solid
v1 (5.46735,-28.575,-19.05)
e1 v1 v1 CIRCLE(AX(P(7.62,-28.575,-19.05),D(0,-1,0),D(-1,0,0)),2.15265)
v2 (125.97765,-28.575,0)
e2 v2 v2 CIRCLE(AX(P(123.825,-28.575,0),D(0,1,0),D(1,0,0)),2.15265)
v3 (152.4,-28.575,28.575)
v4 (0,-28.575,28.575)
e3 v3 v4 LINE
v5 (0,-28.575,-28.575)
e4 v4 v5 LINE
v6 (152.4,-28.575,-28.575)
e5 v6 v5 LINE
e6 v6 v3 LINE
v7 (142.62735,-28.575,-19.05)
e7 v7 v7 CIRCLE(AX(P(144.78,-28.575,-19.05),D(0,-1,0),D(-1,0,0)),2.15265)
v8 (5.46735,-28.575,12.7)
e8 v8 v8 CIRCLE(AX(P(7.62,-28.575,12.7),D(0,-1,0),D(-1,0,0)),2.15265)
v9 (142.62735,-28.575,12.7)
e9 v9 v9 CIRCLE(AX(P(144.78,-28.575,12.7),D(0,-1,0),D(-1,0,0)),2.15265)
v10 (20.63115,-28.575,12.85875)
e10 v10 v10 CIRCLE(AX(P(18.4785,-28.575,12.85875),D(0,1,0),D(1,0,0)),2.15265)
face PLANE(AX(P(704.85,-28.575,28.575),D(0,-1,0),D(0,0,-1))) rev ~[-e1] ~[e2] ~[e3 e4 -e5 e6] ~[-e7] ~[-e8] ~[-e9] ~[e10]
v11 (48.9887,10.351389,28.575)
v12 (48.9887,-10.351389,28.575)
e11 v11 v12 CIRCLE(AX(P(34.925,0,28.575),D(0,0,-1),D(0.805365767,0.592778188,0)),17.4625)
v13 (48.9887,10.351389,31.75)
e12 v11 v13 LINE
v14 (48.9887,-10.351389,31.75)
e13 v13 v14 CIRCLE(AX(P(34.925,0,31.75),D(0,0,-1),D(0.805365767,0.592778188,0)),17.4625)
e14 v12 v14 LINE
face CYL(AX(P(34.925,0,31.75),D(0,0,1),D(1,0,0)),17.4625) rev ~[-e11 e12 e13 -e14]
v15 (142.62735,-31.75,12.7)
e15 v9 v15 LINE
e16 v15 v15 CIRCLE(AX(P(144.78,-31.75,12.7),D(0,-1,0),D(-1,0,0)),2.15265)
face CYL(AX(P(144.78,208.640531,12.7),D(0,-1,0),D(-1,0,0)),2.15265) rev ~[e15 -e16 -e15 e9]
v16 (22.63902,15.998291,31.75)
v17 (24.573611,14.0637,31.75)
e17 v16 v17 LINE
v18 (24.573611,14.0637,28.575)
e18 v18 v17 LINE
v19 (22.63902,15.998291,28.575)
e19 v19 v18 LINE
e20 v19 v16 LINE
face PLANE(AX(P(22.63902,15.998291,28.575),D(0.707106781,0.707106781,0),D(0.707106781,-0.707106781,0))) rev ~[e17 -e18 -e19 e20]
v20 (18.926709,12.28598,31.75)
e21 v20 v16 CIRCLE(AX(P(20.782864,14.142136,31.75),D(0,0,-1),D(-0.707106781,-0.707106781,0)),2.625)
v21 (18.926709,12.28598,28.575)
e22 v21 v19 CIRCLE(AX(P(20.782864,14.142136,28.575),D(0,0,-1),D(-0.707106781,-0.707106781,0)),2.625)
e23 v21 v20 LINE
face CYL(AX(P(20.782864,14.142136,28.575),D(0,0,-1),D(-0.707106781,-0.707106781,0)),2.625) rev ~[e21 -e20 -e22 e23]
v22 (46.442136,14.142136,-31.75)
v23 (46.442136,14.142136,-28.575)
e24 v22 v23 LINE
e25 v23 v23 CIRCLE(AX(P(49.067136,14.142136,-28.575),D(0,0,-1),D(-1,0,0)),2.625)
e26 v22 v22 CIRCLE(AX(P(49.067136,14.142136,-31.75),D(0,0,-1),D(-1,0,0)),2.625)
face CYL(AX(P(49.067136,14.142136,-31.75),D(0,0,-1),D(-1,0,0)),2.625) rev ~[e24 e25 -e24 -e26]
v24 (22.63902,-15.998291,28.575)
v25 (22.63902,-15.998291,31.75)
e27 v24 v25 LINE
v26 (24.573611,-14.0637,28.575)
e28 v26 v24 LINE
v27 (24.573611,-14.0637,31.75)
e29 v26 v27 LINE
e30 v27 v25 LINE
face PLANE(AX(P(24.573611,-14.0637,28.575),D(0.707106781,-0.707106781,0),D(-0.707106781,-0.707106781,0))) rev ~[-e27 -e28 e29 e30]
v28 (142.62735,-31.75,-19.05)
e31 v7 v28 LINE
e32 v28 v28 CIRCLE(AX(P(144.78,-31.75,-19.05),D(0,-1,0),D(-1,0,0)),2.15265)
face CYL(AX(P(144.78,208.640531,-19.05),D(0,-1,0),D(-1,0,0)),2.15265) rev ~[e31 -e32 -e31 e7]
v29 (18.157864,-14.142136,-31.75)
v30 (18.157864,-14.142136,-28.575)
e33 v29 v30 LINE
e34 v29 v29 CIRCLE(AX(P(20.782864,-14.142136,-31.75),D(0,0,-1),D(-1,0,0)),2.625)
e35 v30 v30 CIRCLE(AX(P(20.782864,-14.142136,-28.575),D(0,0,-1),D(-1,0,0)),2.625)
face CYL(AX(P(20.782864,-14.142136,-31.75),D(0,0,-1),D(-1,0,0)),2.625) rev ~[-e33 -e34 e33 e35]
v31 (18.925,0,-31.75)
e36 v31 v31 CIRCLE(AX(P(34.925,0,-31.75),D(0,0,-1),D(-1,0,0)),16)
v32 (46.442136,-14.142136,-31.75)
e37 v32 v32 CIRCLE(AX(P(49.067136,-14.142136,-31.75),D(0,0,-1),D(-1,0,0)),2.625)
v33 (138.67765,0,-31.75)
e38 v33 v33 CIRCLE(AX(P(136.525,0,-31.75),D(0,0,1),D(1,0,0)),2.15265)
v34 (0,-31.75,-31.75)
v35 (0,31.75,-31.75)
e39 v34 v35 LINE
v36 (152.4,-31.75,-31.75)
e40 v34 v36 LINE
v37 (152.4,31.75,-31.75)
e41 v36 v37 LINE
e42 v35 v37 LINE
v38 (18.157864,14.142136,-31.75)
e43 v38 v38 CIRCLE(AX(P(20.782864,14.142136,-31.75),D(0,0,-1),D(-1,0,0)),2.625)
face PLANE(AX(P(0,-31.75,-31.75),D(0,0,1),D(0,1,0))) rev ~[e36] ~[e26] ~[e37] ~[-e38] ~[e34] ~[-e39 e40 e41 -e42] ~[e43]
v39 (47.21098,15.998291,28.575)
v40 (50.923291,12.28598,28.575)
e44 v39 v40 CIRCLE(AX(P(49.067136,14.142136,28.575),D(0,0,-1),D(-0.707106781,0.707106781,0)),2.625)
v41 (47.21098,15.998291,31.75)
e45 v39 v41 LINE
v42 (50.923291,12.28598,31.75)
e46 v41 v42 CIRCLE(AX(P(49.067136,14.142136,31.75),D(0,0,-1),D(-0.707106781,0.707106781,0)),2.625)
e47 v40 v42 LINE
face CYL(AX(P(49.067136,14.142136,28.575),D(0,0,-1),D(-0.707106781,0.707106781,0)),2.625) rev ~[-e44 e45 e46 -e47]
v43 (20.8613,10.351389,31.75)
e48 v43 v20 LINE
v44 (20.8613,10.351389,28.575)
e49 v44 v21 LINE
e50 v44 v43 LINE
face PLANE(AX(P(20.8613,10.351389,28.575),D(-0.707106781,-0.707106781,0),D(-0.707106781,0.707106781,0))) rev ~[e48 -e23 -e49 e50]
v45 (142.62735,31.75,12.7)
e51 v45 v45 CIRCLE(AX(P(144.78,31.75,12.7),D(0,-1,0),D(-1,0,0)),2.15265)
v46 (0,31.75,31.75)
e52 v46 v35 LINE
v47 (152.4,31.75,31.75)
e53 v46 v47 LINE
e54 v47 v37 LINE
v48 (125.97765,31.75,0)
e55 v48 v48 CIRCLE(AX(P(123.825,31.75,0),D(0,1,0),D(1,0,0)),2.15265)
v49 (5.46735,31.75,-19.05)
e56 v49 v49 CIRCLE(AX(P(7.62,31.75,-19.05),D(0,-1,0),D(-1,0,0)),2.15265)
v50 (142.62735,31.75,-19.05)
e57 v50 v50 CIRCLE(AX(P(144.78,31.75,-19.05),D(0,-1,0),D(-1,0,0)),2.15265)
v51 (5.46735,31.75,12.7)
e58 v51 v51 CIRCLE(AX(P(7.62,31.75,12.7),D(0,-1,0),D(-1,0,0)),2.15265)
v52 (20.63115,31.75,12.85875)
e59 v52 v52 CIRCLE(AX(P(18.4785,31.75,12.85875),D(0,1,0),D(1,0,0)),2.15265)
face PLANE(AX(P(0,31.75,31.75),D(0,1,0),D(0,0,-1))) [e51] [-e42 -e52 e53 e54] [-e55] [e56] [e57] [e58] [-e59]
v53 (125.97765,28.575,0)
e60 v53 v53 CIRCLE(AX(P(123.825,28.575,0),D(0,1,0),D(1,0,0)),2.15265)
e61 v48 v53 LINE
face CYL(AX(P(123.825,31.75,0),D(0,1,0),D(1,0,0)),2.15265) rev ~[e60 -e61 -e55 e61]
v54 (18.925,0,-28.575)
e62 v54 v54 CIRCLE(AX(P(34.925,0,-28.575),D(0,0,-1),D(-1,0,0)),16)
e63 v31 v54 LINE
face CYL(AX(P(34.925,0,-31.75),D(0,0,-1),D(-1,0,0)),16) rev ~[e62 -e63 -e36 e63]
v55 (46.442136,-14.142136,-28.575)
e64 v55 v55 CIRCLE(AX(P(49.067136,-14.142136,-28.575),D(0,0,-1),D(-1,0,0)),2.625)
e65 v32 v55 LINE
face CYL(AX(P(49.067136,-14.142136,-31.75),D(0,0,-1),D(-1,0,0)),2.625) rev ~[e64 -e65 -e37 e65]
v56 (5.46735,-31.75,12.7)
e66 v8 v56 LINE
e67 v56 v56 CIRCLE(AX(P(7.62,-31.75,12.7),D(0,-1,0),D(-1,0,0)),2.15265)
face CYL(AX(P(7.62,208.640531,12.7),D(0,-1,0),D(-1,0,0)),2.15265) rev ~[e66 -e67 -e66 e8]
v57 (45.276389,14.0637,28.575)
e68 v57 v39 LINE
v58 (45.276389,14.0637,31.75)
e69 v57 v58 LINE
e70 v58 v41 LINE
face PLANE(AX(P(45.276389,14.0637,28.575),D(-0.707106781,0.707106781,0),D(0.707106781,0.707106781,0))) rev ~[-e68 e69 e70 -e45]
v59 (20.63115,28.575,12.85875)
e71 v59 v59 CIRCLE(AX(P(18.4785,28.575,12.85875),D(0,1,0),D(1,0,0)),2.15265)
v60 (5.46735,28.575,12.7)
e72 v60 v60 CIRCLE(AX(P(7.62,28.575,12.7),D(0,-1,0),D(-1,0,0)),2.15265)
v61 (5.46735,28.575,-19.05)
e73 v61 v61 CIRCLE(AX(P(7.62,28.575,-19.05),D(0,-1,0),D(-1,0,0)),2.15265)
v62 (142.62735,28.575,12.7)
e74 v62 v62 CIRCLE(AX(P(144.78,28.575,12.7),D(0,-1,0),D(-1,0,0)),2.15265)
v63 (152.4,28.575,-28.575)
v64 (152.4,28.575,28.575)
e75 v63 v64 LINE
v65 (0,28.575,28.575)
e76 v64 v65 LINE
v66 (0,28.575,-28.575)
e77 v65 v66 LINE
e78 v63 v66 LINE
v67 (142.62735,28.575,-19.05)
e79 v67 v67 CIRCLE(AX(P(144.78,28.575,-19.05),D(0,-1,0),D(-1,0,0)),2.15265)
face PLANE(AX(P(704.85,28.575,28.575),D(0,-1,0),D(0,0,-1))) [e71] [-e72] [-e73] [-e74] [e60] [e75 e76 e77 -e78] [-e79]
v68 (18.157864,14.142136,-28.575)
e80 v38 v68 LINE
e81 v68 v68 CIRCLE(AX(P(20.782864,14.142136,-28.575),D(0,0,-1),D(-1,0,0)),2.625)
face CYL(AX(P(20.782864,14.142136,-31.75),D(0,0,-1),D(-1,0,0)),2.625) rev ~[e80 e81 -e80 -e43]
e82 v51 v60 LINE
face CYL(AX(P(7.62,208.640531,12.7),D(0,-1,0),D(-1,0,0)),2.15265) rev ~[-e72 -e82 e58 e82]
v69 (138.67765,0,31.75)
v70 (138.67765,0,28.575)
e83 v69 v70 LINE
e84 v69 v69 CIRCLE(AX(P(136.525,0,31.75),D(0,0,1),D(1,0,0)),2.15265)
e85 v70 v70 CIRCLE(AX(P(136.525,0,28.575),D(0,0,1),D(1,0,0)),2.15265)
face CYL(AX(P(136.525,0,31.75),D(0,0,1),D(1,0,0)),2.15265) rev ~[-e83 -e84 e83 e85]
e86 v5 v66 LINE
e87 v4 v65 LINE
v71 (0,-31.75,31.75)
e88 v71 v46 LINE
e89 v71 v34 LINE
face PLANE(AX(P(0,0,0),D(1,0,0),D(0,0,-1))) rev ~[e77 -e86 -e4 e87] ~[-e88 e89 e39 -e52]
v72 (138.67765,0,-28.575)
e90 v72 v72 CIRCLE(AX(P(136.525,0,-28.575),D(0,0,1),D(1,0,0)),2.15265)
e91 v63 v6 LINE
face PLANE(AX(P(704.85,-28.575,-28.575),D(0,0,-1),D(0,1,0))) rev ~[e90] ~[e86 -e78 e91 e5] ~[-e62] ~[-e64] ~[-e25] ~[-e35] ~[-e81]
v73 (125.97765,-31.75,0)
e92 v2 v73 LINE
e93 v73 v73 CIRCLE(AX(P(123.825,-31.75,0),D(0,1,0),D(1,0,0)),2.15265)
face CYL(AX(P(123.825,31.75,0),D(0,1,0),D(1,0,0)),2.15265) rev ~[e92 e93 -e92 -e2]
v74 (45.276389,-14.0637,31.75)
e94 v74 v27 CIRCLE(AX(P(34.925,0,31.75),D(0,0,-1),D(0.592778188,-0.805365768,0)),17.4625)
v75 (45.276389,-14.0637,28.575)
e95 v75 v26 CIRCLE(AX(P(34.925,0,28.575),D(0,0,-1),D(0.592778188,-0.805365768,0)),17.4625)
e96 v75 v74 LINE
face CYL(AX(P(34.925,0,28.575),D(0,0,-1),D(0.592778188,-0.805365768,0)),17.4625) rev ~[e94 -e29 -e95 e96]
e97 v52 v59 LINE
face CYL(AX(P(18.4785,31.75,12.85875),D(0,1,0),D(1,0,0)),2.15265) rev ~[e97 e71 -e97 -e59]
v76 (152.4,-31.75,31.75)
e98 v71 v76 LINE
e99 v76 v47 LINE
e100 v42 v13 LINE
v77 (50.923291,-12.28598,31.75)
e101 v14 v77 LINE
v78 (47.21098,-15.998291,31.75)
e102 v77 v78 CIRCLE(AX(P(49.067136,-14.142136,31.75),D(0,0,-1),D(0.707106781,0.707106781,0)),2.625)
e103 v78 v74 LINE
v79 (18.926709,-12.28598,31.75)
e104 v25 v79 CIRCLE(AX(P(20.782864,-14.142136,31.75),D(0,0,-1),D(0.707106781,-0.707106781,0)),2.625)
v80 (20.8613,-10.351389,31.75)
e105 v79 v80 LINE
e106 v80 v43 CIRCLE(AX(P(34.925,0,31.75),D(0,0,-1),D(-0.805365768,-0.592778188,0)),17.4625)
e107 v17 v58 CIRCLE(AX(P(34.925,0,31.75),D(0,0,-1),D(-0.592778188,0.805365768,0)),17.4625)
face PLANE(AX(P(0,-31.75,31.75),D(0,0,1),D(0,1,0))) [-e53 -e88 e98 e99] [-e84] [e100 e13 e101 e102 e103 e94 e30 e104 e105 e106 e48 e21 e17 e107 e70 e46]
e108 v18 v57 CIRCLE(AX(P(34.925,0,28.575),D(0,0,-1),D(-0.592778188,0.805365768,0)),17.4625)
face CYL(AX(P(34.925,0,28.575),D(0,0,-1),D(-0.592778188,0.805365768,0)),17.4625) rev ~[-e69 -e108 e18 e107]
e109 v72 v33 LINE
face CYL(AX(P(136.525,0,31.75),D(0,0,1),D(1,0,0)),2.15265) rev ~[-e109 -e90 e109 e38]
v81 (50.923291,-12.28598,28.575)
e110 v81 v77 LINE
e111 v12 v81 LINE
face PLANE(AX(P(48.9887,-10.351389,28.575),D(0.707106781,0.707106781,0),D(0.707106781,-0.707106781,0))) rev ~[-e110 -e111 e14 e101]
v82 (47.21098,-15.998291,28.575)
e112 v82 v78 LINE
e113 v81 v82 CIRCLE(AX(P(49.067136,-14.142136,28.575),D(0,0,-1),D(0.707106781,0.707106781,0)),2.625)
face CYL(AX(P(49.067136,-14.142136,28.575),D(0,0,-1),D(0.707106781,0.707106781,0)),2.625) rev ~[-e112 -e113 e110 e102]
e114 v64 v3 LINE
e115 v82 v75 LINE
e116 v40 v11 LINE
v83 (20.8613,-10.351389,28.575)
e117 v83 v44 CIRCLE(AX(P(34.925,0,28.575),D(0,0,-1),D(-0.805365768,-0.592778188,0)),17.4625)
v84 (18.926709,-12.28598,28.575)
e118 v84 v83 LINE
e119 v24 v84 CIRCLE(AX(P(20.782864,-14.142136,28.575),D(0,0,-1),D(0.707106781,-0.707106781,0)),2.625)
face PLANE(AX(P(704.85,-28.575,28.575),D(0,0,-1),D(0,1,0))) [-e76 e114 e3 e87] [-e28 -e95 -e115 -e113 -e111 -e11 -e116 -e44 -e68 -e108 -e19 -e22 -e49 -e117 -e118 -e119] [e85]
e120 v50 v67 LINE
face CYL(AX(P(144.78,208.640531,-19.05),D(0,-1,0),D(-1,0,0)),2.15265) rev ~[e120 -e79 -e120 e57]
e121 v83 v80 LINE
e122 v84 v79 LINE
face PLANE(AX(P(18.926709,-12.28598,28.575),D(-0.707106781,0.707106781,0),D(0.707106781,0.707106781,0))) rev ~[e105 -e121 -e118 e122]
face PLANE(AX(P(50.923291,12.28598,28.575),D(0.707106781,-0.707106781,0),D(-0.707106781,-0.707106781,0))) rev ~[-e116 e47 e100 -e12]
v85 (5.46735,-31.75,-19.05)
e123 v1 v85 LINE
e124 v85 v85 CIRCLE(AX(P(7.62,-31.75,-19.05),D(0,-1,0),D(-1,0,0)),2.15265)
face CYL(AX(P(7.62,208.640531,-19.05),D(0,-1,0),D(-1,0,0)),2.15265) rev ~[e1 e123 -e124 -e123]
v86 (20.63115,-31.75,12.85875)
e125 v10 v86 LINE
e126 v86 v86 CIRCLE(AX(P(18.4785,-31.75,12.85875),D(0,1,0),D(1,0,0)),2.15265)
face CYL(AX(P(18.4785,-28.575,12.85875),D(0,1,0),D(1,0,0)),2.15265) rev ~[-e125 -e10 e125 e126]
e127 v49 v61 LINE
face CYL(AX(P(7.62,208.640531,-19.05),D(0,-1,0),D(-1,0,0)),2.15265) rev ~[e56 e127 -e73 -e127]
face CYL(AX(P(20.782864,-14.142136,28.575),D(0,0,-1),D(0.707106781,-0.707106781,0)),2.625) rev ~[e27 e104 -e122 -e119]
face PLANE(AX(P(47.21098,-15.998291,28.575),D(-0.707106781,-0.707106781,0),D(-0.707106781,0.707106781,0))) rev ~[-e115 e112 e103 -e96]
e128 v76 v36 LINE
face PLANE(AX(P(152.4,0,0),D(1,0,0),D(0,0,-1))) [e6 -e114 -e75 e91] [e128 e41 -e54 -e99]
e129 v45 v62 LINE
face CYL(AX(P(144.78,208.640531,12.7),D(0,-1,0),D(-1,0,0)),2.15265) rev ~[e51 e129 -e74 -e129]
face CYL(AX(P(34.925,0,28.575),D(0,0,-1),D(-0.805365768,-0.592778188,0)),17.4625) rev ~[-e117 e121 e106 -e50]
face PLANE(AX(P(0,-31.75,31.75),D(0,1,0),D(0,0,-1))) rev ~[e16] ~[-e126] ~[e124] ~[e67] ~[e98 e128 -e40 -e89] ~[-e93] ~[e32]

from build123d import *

# Parameters (mm, degrees)
SKETCH1_W             = 63.5
SKETCH1_H             = 63.5
BOSS_EXTRUDE1_DEPTH   = 704.85
SKETCH2_W             = 57.15
SKETCH2_H             = 57.15
CUT_EXTRUDE1_DEPTH    = 705.85
CUT_EXTRUDE2_REACH    = 65.5
SKETCH3_R             = 17.4625
SKETCH8_R             = 2.15265
CUT_EXTRUDE6_DEPTH    = 64.5
SKETCH10_R            = 2.15265
CUT_EXTRUDE7_DEPTH    = 64.5
CUT_EXTRUDE9_REACH    = 65.5
SKETCH13_R            = 16
SKETCH14_R            = 2.625
SKETCH14_R_2          = 16
CUT_EXTRUDE10_DEPTH   = 3.175
CUT_EXTRUDE11_START   = -3.175
CUT_EXTRUDE11_DEPTH   = 3.175
CUT_EXTRUDE13_REACH   = 65.5
SKETCH17_W            = 19.05
SKETCH17_H            = 25.4
SKETCH18_W            = 63.5
SKETCH18_H            = 63.5
CUT_EXTRUDE14_DEPTH   = 552.45
F_8_CLEARANCE_HOLE1_D = 4.3053
SKETCH21_R            = 2.15265
CUT_EXTRUDE15_DEPTH   = 6.35
SKETCH22_R            = 2.15265
CUT_EXTRUDE16_DEPTH   = 6.35


with BuildPart() as part:
    # Sketch1 → Boss-Extrude1 (new body)
    with BuildSketch(Plane(origin=(0, 0, 0), x_dir=(0, 0, -1), z_dir=(1, 0, 0))):
        Rectangle(SKETCH1_W, SKETCH1_H)
    extrude(amount=BOSS_EXTRUDE1_DEPTH)

    # Sketch2 → Cut-Extrude1 (cut, through all)
    with BuildSketch(Plane(origin=(704.85, 0, 0), x_dir=(0, 0, -1), z_dir=(1, 0, 0))):
        Rectangle(SKETCH2_W, SKETCH2_H)
    extrude(amount=-CUT_EXTRUDE1_DEPTH, mode=Mode.SUBTRACT)

    # Sketch3 → Cut-Extrude2 (cut, up to next)
    with BuildSketch(Plane.XY.offset(31.75), mode=Mode.PRIVATE) as cut_extrude2_sk1:
        with Locations((352.425, 0)):
            Circle(SKETCH3_R)
    cut_extrude2_tool1 = extrude(cut_extrude2_sk1.sketch, amount=-CUT_EXTRUDE2_REACH, mode=Mode.PRIVATE) & part.part
    add(cut_extrude2_tool1.solids().sort_by_distance((352.425, 0, 31.75))[0], mode=Mode.SUBTRACT)
    # Sketch3 → Cut-Extrude2 (cut, up to next)
    with BuildSketch(Plane.XY.offset(31.75), mode=Mode.PRIVATE) as cut_extrude2_sk2:
        with Locations((34.925, 0)):
            Circle(SKETCH3_R)
    cut_extrude2_tool2 = extrude(cut_extrude2_sk2.sketch, amount=-CUT_EXTRUDE2_REACH, mode=Mode.PRIVATE) & part.part
    add(cut_extrude2_tool2.solids().sort_by_distance((34.925, 0, 31.75))[0], mode=Mode.SUBTRACT)
    # Sketch3 → Cut-Extrude2 (cut, up to next)
    with BuildSketch(Plane.XY.offset(31.75), mode=Mode.PRIVATE) as cut_extrude2_sk3:
        with Locations((669.925, 0)):
            Circle(SKETCH3_R)
    cut_extrude2_tool3 = extrude(cut_extrude2_sk3.sketch, amount=-CUT_EXTRUDE2_REACH, mode=Mode.PRIVATE) & part.part
    add(cut_extrude2_tool3.solids().sort_by_distance((669.925, 0, 31.75))[0], mode=Mode.SUBTRACT)

    # Sketch8 → Cut-Extrude6 (cut, through all)
    with BuildSketch(Plane(origin=(0, 31.75, 0), x_dir=(1, 0, 0), z_dir=(0, 1, 0))):
        with Locations((466.725, 0)):
            Circle(SKETCH8_R)
        with Locations((123.825, 0)):
            Circle(SKETCH8_R)
        with Locations((581.025, 0)):
            Circle(SKETCH8_R)
        with Locations((238.125, 0)):
            Circle(SKETCH8_R)
    extrude(amount=-CUT_EXTRUDE6_DEPTH, mode=Mode.SUBTRACT)

    # Sketch10 → Cut-Extrude7 (cut, through all)
    with BuildSketch(Plane.XY.offset(31.75)):
        with Locations((225.425, 0)):
            Circle(SKETCH10_R)
        with Locations((568.325, 0)):
            Circle(SKETCH10_R)
        with Locations((136.525, 0)):
            Circle(SKETCH10_R)
        with Locations((479.425, 0)):
            Circle(SKETCH10_R)
    extrude(amount=-CUT_EXTRUDE7_DEPTH, mode=Mode.SUBTRACT)

    # Sketch13 → Cut-Extrude9 (cut, up to next)
    with BuildSketch(Plane(origin=(0, 0, -31.75), x_dir=(-1, 0, 0), z_dir=(0, 0, -1)), mode=Mode.PRIVATE) as cut_extrude9_sk1:
        with Locations((-352.425, 0)):
            Circle(SKETCH13_R)
    cut_extrude9_tool1 = extrude(cut_extrude9_sk1.sketch, amount=-CUT_EXTRUDE9_REACH, mode=Mode.PRIVATE) & part.part
    add(cut_extrude9_tool1.solids().sort_by_distance((352.425, 0, -31.75))[0], mode=Mode.SUBTRACT)
    # Sketch13 → Cut-Extrude9 (cut, up to next)
    with BuildSketch(Plane(origin=(0, 0, -31.75), x_dir=(-1, 0, 0), z_dir=(0, 0, -1)), mode=Mode.PRIVATE) as cut_extrude9_sk2:
        with Locations((-34.925, 0)):
            Circle(SKETCH13_R)
    cut_extrude9_tool2 = extrude(cut_extrude9_sk2.sketch, amount=-CUT_EXTRUDE9_REACH, mode=Mode.PRIVATE) & part.part
    add(cut_extrude9_tool2.solids().sort_by_distance((34.925, 0, -31.75))[0], mode=Mode.SUBTRACT)
    # Sketch13 → Cut-Extrude9 (cut, up to next)
    with BuildSketch(Plane(origin=(0, 0, -31.75), x_dir=(-1, 0, 0), z_dir=(0, 0, -1)), mode=Mode.PRIVATE) as cut_extrude9_sk3:
        with Locations((-669.925, 0)):
            Circle(SKETCH13_R)
    cut_extrude9_tool3 = extrude(cut_extrude9_sk3.sketch, amount=-CUT_EXTRUDE9_REACH, mode=Mode.PRIVATE) & part.part
    add(cut_extrude9_tool3.solids().sort_by_distance((669.925, 0, -31.75))[0], mode=Mode.SUBTRACT)

    # Sketch14 → Cut-Extrude10 (cut)
    with BuildSketch(Plane(origin=(0, 0, -31.75), x_dir=(-1, 0, 0), z_dir=(0, 0, -1))):
        with Locations((-655.782864376, 14.142135624)):
            Circle(SKETCH14_R)
        with Locations((-338.282864376, 14.142135624)):
            Circle(SKETCH14_R)
        with Locations((-20.782864376, 14.142135624)):
            Circle(SKETCH14_R)
        with Locations((-352.425, 0)):
            Circle(SKETCH14_R_2)
        with Locations((-34.925, 0)):
            Circle(SKETCH14_R_2)
        with Locations((-669.925, 0)):
            Circle(SKETCH14_R_2)
        with Locations((-338.282864376, -14.142135624)):
            Circle(SKETCH14_R)
        with Locations((-366.567135624, -14.142135624)):
            Circle(SKETCH14_R)
        with Locations((-366.567135624, 14.142135624)):
            Circle(SKETCH14_R)
        with Locations((-20.782864376, -14.142135624)):
            Circle(SKETCH14_R)
        with Locations((-49.067135624, -14.142135624)):
            Circle(SKETCH14_R)
        with Locations((-49.067135624, 14.142135624)):
            Circle(SKETCH14_R)
        with Locations((-655.782864376, -14.142135624)):
            Circle(SKETCH14_R)
        with Locations((-684.067135624, -14.142135624)):
            Circle(SKETCH14_R)
        with Locations((-684.067135624, 14.142135624)):
            Circle(SKETCH14_R)
    extrude(amount=-CUT_EXTRUDE10_DEPTH, mode=Mode.SUBTRACT)

    # Sketch15 → Cut-Extrude11 (cut)
    with BuildSketch(Plane.XY.offset(31.75).offset(CUT_EXTRUDE11_START)):
        with BuildLine():
            Line((364.710980323, -15.998290924), (362.776389114, -14.063699715))
            ThreePointArc((362.776389114, -14.063699715), (352.425, -17.4625), (342.073610886, -14.063699715))
            Line((342.073610886, -14.063699715), (340.139019677, -15.998290924))
            ThreePointArc((340.139019677, -15.998290924), (336.426709076, -15.998290924), (336.426709076, -12.285980323))
            Line((336.426709076, -12.285980323), (338.361300285, -10.351389114))
            ThreePointArc((338.361300285, -10.351389114), (334.9625, 0), (338.361300285, 10.351389114))
            Line((338.361300285, 10.351389114), (336.426709076, 12.285980323))
            ThreePointArc((336.426709076, 12.285980323), (336.426709076, 15.998290924), (340.139019677, 15.998290924))
            Line((340.139019677, 15.998290924), (342.073610886, 14.063699715))
            ThreePointArc((342.073610886, 14.063699715), (352.425, 17.4625), (362.776389114, 14.063699715))
            Line((362.776389114, 14.063699715), (364.710980323, 15.998290924))
            ThreePointArc((364.710980323, 15.998290924), (368.423290924, 15.998290924), (368.423290924, 12.285980323))
            Line((368.423290924, 12.285980323), (366.488699715, 10.351389114))
            ThreePointArc((366.488699715, 10.351389114), (369.8875, 0), (366.488699715, -10.351389114))
            Line((366.488699715, -10.351389114), (368.423290924, -12.285980323))
            ThreePointArc((368.423290924, -12.285980323), (368.423290924, -15.998290924), (364.710980323, -15.998290924))
        make_face()
        with BuildLine():
            Line((50.923290924, 12.285980323), (48.988699715, 10.351389114))
            ThreePointArc((48.988699715, 10.351389114), (52.3875, 0), (48.988699715, -10.351389114))
            Line((48.988699715, -10.351389114), (50.923290924, -12.285980323))
            ThreePointArc((50.923290924, -12.285980323), (50.923290924, -15.998290924), (47.210980323, -15.998290924))
            Line((47.210980323, -15.998290924), (45.276389114, -14.063699715))
            ThreePointArc((45.276389114, -14.063699715), (34.925, -17.4625), (24.573610886, -14.063699715))
            Line((24.573610886, -14.063699715), (22.639019677, -15.998290924))
            ThreePointArc((22.639019677, -15.998290924), (18.926709076, -15.998290924), (18.926709076, -12.285980323))
            Line((18.926709076, -12.285980323), (20.861300285, -10.351389114))
            ThreePointArc((20.861300285, -10.351389114), (17.4625, 0), (20.861300285, 10.351389114))
            Line((20.861300285, 10.351389114), (18.926709076, 12.285980323))
            ThreePointArc((18.926709076, 12.285980323), (18.926709076, 15.998290924), (22.639019677, 15.998290924))
            Line((22.639019677, 15.998290924), (24.573610886, 14.063699715))
            ThreePointArc((24.573610886, 14.063699715), (34.925, 17.4625), (45.276389114, 14.063699715))
            Line((45.276389114, 14.063699715), (47.210980323, 15.998290924))
            ThreePointArc((47.210980323, 15.998290924), (50.923290924, 15.998290924), (50.923290924, 12.285980323))
        make_face()
        with BuildLine():
            Line((685.923290924, 12.285980323), (683.988699715, 10.351389114))
            ThreePointArc((683.988699715, 10.351389114), (687.3875, 0), (683.988699715, -10.351389114))
            Line((683.988699715, -10.351389114), (685.923290924, -12.285980323))
            ThreePointArc((685.923290924, -12.285980323), (685.923290924, -15.998290924), (682.210980323, -15.998290924))
            Line((682.210980323, -15.998290924), (680.276389114, -14.063699715))
            ThreePointArc((680.276389114, -14.063699715), (669.925, -17.4625), (659.573610886, -14.063699715))
            Line((659.573610886, -14.063699715), (657.639019677, -15.998290924))
            ThreePointArc((657.639019677, -15.998290924), (653.926709076, -15.998290924), (653.926709076, -12.285980323))
            Line((653.926709076, -12.285980323), (655.861300285, -10.351389114))
            ThreePointArc((655.861300285, -10.351389114), (652.4625, 0), (655.861300285, 10.351389114))
            Line((655.861300285, 10.351389114), (653.926709076, 12.285980323))
            ThreePointArc((653.926709076, 12.285980323), (653.926709076, 15.998290924), (657.639019677, 15.998290924))
            Line((657.639019677, 15.998290924), (659.573610886, 14.063699715))
            ThreePointArc((659.573610886, 14.063699715), (669.925, 17.4625), (680.276389114, 14.063699715))
            Line((680.276389114, 14.063699715), (682.210980323, 15.998290924))
            ThreePointArc((682.210980323, 15.998290924), (685.923290924, 15.998290924), (685.923290924, 12.285980323))
        make_face()
    extrude(amount=CUT_EXTRUDE11_DEPTH, mode=Mode.SUBTRACT)

    # Sketch17 → Cut-Extrude13 (cut, up to next)
    with BuildSketch(Plane.XZ.offset(31.75), mode=Mode.PRIVATE) as cut_extrude13_sk1:
        with Locations((352.425, -12.7)):
            Rectangle(SKETCH17_W, SKETCH17_H)
    cut_extrude13_tool1 = extrude(cut_extrude13_sk1.sketch, amount=-CUT_EXTRUDE13_REACH, mode=Mode.PRIVATE) & part.part
    add(cut_extrude13_tool1.solids().sort_by_distance((352.425, -31.75, -12.7))[0], mode=Mode.SUBTRACT)

    # Sketch18 → Cut-Extrude14 (cut)
    with BuildSketch(Plane(origin=(704.85, 0, 0), x_dir=(0, 0, -1), z_dir=(1, 0, 0))):
        Rectangle(SKETCH18_W, SKETCH18_H)
    extrude(amount=-CUT_EXTRUDE14_DEPTH, mode=Mode.SUBTRACT)

    # #8 Clearance Hole1 (through all)
    with Locations(Plane(origin=(0, 31.75, 0), x_dir=(1, 0, 0), z_dir=(0, 1, 0))):
        with Locations((7.62, 19.05), (7.62, -12.7), (144.78, -12.7), (144.78, 19.05)):
            Hole(F_8_CLEARANCE_HOLE1_D / 2)

    # Sketch21 → Cut-Extrude15 (cut)
    with BuildSketch(Plane(origin=(0, 31.75, 0), x_dir=(1, 0, 0), z_dir=(0, 1, 0))):
        with Locations((18.4785, -12.85875)):
            Circle(SKETCH21_R)
    extrude(amount=-CUT_EXTRUDE15_DEPTH, mode=Mode.SUBTRACT)

    # Sketch22 → Cut-Extrude16 (cut)
    with BuildSketch(Plane(origin=(0, -28.575, 0), x_dir=(1, 0, 0), z_dir=(0, 1, 0))):
        with Locations((18.4785, -12.85875)):
            Circle(SKETCH22_R)
    extrude(amount=-CUT_EXTRUDE16_DEPTH, mode=Mode.SUBTRACT)


solid = part.part
